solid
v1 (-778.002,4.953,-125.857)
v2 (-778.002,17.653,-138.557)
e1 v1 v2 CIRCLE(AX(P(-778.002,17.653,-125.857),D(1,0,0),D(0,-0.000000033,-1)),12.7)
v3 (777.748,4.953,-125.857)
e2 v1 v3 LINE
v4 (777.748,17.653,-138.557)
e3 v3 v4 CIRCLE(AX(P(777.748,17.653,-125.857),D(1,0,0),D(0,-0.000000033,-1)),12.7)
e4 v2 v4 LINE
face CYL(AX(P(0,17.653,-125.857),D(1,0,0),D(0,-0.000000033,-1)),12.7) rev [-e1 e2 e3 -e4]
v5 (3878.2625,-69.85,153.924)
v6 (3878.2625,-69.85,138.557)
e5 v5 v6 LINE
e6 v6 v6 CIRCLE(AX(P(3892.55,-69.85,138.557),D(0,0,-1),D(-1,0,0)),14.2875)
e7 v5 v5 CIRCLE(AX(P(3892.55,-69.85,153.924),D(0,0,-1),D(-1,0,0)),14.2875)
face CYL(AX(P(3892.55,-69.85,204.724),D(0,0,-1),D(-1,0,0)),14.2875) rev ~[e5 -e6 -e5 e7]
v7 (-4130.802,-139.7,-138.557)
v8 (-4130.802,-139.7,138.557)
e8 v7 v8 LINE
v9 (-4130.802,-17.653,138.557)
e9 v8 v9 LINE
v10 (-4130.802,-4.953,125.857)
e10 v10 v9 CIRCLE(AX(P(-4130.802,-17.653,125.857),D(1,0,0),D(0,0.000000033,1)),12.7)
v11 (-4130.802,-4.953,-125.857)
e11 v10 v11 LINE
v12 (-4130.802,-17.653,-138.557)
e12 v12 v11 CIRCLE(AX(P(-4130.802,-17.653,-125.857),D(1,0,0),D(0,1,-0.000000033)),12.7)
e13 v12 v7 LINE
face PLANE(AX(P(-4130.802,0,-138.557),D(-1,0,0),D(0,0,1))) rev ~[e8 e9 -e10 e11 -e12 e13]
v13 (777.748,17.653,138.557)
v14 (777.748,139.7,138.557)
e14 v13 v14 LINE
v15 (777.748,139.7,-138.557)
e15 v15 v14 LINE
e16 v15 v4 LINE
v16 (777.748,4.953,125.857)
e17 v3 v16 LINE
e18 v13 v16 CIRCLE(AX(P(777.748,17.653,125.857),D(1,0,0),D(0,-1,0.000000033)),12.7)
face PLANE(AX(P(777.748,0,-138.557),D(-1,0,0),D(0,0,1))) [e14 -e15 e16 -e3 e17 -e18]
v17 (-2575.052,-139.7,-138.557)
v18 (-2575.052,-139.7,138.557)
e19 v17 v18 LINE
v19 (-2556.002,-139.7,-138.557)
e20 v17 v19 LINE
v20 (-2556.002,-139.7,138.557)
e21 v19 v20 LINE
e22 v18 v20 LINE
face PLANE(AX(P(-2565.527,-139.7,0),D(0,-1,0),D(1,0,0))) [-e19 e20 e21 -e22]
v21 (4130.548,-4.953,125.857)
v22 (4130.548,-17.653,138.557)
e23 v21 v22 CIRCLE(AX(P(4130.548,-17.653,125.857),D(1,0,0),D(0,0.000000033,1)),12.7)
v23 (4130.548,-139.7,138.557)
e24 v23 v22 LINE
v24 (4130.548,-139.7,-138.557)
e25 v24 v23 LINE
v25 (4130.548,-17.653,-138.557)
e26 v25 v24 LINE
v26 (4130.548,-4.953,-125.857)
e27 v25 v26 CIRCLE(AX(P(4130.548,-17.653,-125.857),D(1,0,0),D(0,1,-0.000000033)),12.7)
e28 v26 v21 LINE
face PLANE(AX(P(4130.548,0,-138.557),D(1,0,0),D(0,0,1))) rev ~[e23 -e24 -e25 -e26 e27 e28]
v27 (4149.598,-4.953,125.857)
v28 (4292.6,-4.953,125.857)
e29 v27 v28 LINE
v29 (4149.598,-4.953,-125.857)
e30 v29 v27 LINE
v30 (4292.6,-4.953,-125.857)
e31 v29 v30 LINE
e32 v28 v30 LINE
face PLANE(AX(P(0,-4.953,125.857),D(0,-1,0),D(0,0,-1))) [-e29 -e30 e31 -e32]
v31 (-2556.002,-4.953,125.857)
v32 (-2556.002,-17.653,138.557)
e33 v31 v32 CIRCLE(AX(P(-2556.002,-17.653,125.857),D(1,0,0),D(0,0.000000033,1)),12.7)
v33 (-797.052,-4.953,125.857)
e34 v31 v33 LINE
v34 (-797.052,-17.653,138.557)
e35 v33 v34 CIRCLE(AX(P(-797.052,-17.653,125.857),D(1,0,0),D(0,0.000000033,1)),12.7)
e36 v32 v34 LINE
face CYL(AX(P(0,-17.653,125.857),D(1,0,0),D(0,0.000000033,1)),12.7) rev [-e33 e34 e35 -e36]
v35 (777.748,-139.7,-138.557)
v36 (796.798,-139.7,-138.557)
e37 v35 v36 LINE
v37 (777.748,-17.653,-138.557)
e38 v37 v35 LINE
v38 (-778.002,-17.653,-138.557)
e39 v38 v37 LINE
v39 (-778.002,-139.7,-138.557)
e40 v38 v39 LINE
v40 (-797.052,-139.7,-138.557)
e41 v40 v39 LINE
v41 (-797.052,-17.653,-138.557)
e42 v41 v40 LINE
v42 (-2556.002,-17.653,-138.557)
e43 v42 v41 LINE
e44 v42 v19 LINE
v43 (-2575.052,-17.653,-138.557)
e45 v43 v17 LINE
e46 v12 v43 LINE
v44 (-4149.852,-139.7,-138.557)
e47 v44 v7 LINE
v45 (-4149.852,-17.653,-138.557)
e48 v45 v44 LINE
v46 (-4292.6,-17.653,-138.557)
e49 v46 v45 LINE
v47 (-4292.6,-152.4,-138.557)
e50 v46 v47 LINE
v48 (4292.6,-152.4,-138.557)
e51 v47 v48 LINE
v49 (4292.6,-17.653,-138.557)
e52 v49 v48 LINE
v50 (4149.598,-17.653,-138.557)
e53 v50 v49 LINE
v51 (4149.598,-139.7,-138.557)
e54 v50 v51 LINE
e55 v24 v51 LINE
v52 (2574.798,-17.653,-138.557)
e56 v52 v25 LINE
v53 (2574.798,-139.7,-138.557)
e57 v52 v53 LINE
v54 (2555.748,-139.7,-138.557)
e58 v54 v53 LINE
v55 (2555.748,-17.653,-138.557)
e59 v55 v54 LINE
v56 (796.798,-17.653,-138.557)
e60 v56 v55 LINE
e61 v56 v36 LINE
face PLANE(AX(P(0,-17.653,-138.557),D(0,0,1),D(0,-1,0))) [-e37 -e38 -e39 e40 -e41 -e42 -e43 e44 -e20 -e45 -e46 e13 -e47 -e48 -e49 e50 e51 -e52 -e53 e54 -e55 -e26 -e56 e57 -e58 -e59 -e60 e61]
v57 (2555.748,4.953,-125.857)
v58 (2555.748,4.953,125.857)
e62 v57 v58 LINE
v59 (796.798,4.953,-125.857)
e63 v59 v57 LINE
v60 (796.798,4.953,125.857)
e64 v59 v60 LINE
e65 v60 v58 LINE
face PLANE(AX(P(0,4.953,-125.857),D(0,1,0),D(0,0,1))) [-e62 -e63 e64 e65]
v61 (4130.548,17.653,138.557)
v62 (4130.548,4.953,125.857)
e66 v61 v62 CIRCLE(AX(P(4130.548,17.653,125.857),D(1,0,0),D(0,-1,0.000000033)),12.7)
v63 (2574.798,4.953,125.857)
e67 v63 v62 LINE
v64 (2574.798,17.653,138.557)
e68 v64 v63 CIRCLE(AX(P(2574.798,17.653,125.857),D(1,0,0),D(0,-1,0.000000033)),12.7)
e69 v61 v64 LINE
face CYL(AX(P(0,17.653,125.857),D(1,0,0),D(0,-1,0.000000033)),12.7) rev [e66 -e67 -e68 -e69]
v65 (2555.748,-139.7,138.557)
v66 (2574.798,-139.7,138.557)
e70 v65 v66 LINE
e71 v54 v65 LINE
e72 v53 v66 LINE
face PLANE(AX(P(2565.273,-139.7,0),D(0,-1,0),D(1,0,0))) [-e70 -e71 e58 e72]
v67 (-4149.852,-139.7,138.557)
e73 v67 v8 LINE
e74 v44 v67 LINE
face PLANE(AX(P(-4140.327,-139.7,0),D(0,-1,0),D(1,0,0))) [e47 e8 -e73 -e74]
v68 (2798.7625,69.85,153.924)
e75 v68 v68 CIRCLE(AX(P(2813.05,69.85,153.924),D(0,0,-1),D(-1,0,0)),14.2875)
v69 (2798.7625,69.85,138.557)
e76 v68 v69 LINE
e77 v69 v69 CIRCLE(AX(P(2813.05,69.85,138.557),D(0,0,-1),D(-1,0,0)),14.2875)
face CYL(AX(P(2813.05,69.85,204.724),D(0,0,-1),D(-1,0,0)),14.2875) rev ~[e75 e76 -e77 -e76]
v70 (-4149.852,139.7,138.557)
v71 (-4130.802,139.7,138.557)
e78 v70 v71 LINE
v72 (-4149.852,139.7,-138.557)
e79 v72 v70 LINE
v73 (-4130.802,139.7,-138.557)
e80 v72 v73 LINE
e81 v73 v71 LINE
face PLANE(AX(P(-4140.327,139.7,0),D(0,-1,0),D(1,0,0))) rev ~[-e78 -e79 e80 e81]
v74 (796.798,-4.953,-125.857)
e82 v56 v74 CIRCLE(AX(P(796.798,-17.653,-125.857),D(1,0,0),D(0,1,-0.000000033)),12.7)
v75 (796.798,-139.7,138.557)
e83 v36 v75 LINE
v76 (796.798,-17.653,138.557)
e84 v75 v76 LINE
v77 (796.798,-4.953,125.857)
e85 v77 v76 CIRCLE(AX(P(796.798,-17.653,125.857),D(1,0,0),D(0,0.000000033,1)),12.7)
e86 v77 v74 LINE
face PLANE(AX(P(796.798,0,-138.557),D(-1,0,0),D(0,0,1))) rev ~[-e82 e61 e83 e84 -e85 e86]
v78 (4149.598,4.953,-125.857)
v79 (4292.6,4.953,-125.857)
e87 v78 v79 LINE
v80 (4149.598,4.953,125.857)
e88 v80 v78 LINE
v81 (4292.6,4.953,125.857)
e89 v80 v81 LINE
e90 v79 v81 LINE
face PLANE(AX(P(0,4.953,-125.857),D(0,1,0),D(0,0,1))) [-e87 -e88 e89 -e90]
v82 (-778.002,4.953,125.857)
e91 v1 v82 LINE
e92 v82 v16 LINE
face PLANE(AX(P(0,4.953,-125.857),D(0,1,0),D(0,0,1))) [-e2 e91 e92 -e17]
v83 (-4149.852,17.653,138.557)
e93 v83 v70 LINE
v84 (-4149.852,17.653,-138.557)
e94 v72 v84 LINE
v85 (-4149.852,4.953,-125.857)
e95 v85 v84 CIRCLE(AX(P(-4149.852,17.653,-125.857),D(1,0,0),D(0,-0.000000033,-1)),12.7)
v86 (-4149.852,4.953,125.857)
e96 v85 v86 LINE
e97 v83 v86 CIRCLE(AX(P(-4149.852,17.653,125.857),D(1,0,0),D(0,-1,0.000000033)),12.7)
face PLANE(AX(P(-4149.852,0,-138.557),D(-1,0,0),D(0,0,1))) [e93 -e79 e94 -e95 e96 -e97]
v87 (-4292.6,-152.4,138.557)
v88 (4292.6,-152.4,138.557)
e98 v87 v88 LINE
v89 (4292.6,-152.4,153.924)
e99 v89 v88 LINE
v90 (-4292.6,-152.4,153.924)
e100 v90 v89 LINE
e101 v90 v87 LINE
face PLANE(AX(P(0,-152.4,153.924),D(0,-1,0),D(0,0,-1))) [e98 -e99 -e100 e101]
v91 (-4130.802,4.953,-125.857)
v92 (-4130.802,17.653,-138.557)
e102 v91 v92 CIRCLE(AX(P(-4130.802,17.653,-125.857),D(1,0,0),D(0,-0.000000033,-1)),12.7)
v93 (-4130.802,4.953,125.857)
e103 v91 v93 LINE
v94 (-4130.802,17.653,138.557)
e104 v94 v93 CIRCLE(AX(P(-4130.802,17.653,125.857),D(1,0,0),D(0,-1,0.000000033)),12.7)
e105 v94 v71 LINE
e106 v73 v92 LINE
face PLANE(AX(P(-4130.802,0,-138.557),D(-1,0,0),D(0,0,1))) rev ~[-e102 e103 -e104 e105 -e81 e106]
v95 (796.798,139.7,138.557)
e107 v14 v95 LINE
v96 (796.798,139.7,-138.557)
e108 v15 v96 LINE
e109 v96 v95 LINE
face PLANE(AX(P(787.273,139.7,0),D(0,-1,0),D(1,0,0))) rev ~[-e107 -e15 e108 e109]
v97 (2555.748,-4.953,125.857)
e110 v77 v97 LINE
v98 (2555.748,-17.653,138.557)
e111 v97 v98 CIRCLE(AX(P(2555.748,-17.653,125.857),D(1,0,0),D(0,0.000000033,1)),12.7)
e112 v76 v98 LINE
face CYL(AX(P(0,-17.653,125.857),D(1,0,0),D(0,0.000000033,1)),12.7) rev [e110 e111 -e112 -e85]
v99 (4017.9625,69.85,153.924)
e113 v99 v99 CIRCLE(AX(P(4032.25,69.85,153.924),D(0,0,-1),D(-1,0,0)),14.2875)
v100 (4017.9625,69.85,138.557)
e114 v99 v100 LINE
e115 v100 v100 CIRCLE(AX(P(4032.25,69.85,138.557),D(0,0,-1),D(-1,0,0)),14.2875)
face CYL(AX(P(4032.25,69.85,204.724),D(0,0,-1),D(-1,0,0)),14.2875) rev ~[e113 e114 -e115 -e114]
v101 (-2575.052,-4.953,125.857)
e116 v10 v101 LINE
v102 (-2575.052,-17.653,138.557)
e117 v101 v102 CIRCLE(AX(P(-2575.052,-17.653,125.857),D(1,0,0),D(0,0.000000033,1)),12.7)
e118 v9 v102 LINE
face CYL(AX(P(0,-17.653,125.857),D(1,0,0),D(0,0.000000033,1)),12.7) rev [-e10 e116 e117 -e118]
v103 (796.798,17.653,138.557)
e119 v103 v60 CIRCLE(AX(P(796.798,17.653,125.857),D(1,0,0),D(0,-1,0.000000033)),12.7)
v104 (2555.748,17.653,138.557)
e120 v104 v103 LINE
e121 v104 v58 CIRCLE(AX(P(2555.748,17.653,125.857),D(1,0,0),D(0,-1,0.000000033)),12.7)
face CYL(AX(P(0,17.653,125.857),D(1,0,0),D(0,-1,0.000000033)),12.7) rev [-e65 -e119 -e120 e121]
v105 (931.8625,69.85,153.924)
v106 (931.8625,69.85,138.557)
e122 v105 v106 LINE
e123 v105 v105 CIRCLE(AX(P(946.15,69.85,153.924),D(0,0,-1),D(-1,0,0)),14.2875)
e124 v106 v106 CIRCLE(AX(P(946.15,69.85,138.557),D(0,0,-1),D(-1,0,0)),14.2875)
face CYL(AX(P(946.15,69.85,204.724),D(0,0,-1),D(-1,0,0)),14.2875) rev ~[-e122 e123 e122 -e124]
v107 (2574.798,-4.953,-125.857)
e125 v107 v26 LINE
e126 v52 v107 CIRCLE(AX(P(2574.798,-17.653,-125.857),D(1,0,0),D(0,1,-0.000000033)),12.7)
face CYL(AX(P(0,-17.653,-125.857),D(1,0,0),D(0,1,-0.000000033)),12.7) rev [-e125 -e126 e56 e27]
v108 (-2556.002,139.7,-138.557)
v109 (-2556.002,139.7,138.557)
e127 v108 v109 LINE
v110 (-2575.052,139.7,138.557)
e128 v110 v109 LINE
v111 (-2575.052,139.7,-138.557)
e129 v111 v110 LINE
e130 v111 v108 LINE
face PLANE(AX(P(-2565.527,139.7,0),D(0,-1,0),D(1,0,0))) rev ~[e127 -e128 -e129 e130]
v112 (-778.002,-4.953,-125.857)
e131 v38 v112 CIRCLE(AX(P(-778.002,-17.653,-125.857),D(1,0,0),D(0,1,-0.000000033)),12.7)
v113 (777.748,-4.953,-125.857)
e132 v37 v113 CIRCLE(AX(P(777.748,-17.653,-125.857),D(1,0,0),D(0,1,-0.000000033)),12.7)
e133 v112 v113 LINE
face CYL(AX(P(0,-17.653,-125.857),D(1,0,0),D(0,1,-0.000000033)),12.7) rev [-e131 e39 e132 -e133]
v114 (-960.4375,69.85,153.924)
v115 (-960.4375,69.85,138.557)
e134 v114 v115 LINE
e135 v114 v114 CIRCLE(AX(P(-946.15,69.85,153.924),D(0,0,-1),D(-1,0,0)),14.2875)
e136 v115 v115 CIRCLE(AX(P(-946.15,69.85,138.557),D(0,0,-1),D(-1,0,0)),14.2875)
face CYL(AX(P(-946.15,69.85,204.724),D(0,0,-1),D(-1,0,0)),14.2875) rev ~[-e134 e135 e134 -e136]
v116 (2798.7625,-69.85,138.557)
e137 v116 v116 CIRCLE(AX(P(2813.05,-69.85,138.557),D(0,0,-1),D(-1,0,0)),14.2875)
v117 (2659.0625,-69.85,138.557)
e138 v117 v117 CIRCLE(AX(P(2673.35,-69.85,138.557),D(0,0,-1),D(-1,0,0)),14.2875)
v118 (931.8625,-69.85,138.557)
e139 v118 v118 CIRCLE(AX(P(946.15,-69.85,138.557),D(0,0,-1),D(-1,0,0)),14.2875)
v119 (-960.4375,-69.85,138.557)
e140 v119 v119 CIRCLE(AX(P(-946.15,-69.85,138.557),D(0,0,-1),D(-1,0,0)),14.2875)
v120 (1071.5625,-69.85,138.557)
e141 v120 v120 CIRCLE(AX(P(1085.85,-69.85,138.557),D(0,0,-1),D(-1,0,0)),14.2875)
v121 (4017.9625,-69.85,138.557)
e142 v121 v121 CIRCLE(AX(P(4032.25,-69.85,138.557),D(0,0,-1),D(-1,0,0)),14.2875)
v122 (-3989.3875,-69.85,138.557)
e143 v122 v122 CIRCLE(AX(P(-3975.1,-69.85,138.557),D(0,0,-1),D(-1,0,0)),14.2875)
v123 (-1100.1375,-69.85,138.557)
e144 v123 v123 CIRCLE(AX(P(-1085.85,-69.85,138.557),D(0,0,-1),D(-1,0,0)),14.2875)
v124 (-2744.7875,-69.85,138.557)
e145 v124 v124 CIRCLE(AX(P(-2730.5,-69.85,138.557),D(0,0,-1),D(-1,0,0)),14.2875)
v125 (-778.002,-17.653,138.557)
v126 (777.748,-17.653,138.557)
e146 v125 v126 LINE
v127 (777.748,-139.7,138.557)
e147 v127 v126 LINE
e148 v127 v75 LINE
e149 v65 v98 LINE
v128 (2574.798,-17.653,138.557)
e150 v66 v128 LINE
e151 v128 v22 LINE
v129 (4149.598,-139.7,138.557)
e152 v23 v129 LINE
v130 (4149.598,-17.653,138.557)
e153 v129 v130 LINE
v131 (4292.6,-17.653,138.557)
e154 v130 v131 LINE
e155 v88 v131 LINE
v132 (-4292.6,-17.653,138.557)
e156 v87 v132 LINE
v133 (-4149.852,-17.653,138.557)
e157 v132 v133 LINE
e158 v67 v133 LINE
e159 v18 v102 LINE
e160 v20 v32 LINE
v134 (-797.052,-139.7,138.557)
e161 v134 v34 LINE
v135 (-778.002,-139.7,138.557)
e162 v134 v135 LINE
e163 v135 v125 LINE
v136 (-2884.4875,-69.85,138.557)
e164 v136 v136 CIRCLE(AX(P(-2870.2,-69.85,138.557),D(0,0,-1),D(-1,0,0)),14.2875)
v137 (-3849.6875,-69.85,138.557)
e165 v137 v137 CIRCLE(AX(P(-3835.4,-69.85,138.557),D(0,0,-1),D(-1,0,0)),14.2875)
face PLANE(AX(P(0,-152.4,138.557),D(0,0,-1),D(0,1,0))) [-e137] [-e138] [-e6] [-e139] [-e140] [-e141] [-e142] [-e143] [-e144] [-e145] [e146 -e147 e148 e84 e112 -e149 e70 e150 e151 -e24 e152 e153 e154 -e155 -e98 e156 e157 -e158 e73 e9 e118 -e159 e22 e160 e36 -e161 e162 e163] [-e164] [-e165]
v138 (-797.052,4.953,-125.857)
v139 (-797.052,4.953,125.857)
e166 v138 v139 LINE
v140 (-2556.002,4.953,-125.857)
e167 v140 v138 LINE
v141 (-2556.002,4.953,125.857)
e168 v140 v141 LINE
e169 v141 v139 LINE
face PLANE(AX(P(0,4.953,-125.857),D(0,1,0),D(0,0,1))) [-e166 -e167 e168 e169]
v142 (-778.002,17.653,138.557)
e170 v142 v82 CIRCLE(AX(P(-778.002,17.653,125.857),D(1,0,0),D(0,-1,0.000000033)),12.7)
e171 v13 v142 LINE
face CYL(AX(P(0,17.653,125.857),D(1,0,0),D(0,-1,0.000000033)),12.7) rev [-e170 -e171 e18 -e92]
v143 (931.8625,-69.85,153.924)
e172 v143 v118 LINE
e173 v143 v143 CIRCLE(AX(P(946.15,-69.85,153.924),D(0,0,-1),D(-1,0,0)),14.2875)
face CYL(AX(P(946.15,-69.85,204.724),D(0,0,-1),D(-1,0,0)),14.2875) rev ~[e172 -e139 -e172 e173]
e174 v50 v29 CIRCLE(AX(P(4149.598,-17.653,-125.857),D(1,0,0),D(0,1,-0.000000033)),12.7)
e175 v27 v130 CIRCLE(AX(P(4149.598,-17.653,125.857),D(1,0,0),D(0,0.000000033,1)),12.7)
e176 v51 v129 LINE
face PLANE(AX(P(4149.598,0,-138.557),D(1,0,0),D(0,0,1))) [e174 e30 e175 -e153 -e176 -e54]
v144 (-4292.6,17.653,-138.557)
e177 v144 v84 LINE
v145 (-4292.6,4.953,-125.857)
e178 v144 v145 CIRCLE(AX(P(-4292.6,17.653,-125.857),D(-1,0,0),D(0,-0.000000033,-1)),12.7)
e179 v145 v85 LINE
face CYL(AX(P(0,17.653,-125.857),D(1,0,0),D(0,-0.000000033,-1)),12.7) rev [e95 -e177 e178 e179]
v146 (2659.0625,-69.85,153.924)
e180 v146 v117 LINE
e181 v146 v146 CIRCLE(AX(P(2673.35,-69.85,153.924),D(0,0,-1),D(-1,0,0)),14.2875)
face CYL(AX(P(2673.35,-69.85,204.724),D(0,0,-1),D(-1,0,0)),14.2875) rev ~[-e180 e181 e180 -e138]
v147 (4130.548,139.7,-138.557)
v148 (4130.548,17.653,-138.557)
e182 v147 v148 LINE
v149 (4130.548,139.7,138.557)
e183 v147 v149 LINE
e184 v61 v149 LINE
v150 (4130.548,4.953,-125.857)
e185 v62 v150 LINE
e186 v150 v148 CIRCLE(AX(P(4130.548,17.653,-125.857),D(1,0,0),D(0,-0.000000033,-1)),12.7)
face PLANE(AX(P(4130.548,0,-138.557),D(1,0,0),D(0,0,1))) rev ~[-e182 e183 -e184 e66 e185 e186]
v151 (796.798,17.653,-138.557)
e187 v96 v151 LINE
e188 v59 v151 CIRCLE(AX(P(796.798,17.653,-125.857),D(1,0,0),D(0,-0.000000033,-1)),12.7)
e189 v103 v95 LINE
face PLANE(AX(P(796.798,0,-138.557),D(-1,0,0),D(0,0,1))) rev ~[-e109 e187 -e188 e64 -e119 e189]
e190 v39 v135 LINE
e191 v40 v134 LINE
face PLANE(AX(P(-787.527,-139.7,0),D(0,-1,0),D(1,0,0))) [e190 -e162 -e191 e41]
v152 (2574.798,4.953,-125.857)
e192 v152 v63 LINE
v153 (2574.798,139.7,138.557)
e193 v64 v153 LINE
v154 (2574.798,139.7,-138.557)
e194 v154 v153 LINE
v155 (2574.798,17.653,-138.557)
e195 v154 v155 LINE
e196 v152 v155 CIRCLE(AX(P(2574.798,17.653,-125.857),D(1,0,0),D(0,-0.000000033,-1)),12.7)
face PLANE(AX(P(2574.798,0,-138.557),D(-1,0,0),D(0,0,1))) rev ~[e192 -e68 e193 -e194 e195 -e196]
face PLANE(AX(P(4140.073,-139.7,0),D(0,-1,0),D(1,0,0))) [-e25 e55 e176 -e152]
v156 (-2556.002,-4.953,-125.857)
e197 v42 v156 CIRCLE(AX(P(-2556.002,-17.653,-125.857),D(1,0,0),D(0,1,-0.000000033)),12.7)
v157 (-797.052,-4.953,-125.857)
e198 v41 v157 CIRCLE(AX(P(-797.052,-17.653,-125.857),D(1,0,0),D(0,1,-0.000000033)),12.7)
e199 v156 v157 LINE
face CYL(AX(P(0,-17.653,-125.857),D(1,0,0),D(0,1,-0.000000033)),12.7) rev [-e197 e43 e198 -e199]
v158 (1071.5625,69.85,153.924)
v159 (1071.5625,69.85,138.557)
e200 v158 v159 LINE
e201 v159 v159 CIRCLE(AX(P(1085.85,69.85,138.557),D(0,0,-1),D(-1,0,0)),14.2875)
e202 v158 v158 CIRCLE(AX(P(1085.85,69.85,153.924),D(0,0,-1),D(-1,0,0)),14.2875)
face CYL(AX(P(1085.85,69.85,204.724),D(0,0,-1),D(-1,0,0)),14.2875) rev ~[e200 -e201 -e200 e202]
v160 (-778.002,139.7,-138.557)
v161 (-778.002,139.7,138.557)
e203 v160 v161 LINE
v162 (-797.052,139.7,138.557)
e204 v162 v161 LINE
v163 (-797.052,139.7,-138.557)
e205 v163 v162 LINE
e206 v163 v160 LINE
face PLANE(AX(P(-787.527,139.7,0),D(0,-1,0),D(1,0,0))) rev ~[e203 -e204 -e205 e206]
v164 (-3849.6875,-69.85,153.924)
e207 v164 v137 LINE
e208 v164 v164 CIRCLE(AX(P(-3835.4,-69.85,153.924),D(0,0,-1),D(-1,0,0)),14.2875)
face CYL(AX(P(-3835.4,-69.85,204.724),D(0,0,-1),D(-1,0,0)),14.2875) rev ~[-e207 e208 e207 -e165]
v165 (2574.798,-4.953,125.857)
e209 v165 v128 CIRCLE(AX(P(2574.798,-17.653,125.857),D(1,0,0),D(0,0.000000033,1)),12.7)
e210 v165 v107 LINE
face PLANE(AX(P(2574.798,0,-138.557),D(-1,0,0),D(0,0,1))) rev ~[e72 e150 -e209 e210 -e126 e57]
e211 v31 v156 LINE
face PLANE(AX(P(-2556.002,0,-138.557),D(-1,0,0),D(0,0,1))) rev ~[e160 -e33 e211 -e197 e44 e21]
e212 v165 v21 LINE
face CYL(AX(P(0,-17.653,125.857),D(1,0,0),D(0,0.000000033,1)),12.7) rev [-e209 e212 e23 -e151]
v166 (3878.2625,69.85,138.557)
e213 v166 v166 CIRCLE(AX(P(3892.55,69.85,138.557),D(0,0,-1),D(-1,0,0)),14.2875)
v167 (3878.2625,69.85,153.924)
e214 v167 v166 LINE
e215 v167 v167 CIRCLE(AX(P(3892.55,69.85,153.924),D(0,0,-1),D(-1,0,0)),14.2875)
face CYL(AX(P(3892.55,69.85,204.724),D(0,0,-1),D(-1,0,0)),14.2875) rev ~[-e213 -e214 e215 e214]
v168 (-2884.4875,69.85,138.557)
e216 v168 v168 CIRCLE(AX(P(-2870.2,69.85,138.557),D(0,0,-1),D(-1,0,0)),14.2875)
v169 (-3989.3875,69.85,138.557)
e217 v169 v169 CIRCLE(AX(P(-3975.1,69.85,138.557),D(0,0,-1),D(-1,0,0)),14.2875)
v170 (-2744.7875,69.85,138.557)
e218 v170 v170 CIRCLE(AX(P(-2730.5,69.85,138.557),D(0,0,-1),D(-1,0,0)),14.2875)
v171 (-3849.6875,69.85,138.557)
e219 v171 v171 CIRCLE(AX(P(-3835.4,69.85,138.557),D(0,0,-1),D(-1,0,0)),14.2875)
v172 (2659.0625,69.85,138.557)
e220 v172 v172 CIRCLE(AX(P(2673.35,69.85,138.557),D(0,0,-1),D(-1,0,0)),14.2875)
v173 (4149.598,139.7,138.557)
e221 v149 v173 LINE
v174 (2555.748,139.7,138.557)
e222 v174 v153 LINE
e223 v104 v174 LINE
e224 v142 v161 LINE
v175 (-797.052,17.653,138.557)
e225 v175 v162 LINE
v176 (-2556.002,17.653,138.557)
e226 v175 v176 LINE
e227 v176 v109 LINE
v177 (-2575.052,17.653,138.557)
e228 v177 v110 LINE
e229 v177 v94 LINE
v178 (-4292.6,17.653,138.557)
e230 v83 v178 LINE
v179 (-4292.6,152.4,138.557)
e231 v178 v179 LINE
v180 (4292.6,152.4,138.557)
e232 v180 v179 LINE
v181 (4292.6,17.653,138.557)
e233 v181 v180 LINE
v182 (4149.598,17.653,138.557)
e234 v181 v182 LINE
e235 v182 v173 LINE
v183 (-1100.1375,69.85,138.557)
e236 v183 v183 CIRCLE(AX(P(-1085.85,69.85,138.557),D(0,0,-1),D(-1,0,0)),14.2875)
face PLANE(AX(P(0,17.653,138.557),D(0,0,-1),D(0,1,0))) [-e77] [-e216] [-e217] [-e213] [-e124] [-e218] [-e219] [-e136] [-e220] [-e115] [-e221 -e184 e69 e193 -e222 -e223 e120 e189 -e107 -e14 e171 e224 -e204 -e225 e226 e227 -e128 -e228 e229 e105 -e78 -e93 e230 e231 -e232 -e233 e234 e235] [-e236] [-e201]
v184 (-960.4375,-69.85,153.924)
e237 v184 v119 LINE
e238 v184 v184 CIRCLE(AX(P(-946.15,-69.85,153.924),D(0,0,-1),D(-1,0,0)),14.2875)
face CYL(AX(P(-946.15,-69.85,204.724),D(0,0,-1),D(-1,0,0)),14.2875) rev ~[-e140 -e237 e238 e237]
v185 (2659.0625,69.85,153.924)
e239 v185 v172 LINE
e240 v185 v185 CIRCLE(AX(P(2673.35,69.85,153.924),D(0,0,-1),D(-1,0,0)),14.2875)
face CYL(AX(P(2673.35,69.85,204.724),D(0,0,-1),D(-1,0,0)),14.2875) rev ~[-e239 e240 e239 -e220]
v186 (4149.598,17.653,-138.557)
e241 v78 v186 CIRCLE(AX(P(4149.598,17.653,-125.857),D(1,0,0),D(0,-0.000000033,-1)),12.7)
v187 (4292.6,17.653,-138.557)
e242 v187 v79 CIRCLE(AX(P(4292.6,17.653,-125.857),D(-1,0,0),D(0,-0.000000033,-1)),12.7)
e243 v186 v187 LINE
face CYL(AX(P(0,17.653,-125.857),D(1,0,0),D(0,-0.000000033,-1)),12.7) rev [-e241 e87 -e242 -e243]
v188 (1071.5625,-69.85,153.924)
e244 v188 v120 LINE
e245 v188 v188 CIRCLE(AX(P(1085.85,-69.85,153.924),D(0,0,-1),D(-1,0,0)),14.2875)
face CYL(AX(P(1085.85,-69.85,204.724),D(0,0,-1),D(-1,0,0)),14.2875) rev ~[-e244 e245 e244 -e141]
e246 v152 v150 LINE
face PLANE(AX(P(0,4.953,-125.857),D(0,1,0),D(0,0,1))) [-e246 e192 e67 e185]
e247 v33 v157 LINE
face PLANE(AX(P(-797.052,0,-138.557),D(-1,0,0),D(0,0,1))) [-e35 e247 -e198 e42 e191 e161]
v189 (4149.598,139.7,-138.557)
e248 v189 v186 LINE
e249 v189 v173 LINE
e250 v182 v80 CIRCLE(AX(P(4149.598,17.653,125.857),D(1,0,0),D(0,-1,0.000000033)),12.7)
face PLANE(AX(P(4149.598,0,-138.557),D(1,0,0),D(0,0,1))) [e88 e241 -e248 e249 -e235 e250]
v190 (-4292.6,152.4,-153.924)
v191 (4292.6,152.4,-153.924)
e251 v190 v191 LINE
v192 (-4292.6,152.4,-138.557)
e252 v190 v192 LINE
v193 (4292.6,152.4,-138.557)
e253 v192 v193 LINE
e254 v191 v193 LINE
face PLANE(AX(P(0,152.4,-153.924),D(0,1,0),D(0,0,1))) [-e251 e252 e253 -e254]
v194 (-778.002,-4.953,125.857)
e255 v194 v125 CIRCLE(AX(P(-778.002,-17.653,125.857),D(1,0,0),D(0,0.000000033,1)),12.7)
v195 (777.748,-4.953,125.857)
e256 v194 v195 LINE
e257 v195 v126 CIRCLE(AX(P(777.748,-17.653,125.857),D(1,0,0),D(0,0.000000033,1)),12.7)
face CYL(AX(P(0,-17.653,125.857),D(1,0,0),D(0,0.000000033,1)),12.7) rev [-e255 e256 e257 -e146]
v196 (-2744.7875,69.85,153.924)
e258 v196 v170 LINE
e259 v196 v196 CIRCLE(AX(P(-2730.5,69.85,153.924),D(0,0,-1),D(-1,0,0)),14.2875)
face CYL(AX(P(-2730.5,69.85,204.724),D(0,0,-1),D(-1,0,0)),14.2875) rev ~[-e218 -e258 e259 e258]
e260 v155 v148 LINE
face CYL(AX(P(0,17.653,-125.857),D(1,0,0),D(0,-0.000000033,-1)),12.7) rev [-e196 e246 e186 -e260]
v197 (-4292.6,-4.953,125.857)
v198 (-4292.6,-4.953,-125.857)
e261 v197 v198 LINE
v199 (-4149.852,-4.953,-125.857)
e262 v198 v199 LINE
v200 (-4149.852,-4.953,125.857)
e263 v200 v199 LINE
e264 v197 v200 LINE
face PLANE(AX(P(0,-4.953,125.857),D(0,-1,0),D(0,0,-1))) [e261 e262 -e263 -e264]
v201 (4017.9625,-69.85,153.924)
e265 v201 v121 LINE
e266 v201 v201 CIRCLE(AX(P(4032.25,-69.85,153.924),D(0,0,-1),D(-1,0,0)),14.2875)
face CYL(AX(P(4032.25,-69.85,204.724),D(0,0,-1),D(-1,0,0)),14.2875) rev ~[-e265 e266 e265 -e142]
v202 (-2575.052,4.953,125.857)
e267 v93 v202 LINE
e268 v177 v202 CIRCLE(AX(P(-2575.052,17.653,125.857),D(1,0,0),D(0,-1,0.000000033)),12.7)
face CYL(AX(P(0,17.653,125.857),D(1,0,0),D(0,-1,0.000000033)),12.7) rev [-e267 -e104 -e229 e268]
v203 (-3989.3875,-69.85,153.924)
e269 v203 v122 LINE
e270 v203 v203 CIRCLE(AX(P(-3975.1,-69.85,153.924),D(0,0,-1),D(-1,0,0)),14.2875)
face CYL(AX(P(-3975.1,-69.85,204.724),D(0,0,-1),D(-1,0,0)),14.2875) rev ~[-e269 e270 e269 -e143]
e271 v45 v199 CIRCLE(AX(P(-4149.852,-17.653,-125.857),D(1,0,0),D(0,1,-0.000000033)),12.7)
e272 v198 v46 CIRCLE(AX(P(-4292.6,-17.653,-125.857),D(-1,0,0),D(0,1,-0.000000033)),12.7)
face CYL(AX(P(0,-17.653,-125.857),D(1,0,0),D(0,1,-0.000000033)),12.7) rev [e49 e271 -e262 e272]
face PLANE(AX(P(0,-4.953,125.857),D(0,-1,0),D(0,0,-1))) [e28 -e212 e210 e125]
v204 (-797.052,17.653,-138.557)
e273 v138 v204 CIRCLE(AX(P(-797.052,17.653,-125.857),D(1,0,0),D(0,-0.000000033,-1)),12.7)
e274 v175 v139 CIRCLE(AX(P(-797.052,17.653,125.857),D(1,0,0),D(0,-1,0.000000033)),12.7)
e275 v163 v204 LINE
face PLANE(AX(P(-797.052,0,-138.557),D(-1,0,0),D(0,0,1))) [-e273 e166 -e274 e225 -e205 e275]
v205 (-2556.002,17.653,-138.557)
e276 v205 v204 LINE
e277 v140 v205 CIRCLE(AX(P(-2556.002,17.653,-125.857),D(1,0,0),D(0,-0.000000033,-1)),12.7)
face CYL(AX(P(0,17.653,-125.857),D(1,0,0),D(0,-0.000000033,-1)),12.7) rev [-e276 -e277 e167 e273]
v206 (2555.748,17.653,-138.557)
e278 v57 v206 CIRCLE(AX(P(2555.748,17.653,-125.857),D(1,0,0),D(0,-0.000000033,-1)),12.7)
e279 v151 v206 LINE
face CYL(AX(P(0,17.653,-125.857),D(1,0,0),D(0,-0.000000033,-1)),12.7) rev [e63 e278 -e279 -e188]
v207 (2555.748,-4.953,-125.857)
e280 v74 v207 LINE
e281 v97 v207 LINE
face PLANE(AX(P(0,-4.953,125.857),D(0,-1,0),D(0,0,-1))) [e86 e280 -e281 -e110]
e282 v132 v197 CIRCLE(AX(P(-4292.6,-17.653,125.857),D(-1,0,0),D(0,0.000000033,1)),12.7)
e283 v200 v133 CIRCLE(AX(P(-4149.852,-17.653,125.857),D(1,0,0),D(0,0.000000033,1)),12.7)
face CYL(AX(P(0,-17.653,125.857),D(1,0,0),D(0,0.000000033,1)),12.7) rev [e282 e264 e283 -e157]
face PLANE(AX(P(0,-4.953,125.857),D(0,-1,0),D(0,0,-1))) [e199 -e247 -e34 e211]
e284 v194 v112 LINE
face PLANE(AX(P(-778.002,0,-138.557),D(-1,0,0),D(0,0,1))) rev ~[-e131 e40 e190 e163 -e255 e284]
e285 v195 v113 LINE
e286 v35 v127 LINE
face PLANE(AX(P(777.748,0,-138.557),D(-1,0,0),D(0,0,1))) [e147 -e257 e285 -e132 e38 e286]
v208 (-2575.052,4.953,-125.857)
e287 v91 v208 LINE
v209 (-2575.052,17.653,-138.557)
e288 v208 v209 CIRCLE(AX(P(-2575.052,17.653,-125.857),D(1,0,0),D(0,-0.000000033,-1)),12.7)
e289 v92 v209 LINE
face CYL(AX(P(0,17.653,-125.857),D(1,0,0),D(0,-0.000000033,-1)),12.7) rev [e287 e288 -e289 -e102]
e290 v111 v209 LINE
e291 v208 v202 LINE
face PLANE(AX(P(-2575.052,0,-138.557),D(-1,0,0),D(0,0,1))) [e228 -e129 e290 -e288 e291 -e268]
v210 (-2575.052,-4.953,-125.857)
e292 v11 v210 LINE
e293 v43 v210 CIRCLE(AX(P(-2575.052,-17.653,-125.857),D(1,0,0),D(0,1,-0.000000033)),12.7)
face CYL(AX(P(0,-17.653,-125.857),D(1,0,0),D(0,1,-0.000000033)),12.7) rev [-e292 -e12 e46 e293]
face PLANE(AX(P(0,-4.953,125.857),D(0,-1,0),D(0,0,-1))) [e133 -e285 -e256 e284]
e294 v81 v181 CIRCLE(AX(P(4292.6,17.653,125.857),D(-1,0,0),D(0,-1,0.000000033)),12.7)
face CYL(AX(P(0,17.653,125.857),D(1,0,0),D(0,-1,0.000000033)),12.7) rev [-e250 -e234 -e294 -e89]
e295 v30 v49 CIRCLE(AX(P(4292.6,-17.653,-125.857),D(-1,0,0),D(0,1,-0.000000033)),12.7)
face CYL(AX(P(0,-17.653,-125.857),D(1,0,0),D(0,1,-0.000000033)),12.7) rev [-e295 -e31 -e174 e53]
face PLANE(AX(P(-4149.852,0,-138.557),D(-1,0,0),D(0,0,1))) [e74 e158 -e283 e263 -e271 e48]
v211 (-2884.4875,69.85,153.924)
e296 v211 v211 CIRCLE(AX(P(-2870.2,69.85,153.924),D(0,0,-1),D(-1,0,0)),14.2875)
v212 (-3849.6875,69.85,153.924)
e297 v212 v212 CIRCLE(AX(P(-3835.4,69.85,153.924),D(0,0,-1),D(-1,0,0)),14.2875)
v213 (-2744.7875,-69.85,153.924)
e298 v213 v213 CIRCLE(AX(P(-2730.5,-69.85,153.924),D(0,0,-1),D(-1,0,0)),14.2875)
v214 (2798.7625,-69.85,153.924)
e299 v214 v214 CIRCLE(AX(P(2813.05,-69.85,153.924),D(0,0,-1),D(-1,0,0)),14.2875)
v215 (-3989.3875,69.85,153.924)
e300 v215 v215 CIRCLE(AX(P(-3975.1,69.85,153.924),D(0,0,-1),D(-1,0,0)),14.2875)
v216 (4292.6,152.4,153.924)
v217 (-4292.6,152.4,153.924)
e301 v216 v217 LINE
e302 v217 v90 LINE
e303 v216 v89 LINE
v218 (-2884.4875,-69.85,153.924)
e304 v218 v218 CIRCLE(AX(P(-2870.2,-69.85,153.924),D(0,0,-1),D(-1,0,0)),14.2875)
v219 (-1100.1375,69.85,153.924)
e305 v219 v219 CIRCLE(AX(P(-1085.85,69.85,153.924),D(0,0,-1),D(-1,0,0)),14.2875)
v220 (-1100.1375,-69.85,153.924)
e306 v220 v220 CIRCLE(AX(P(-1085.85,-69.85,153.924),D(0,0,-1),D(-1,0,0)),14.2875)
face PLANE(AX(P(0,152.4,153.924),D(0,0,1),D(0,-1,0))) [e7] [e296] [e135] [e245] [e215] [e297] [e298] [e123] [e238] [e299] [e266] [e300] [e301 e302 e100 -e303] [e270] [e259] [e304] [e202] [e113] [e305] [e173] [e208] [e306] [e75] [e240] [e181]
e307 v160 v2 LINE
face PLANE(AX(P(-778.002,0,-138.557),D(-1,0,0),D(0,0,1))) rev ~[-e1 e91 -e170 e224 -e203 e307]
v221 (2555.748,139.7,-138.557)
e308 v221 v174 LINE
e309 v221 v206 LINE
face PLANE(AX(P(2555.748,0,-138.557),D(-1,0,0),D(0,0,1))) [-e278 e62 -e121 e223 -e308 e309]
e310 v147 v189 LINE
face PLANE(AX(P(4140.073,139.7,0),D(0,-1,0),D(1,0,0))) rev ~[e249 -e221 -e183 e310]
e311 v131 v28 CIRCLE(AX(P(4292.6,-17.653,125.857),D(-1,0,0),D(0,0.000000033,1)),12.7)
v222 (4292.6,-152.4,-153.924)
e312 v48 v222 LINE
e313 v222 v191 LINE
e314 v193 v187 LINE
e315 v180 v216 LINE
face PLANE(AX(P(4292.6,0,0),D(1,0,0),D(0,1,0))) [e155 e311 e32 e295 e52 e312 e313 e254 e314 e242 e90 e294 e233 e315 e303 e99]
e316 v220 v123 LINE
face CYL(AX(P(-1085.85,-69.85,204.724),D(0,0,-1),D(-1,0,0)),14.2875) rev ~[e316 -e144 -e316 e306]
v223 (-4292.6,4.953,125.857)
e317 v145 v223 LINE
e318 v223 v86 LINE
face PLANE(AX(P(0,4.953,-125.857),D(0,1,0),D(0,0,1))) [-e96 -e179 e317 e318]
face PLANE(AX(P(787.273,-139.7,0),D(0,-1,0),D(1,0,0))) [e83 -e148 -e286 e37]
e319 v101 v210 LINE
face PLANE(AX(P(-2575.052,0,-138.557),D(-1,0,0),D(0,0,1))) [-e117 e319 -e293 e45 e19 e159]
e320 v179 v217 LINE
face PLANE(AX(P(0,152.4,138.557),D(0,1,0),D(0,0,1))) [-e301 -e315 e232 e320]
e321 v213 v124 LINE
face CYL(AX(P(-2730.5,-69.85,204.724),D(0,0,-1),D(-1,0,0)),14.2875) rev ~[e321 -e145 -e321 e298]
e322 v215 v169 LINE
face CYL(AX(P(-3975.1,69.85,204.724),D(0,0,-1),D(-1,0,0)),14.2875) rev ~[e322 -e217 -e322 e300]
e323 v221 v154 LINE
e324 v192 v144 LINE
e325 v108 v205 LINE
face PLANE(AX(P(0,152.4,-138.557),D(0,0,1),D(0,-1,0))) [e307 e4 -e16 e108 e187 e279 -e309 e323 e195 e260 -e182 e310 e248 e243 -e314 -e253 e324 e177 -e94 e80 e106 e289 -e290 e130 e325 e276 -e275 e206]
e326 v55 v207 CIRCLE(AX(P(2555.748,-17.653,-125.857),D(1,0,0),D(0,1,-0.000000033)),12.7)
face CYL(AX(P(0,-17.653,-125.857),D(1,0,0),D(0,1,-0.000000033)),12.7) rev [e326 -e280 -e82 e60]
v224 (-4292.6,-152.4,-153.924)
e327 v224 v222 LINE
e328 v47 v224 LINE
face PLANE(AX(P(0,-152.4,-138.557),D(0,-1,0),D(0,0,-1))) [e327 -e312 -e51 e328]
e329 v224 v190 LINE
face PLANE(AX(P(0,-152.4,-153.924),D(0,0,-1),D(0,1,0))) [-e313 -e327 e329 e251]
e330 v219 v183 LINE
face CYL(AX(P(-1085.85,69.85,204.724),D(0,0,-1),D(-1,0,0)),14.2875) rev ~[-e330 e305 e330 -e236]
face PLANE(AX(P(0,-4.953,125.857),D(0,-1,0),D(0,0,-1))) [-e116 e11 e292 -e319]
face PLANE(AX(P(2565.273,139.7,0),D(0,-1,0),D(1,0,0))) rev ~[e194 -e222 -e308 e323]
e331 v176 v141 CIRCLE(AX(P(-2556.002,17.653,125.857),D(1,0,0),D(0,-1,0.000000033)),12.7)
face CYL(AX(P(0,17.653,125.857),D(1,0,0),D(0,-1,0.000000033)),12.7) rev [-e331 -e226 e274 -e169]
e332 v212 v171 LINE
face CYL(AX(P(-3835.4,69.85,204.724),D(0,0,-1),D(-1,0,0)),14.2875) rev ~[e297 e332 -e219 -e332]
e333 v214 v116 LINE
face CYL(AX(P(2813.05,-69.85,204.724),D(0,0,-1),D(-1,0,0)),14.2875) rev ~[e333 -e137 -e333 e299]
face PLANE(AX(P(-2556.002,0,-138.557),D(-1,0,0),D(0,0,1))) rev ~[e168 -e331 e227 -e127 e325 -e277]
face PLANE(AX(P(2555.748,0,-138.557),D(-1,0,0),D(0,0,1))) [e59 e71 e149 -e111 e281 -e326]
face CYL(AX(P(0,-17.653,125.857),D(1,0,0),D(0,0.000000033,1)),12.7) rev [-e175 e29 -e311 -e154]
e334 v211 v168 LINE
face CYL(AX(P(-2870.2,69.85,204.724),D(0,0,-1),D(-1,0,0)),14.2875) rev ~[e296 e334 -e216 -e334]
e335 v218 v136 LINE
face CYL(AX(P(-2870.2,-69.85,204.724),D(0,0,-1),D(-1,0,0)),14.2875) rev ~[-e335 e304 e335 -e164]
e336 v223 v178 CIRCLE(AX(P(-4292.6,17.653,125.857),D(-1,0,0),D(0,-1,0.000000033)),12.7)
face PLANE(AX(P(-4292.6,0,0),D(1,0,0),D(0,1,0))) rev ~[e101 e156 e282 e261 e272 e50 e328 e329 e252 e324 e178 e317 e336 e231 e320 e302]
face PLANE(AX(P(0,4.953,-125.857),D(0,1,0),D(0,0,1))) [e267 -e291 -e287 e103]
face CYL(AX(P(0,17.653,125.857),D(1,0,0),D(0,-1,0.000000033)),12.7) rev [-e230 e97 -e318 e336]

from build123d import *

# Parameters (mm, degrees)
F1_DEPTH = 4292.6
F2_W     = 19.05
F2_H     = 277.114
F3_DEPTH = 139.7
F5_D     = 28.575
F5_DEPTH = 50.8


with BuildPart() as f1:
    # F0 (on Right) → F1 (new body, symmetric)
    with BuildSketch(Plane.YZ):
        with BuildLine():
            Line((152.4, 153.924), (-152.4, 153.924))
            Line((-152.4, 153.924), (-152.4, 138.557))
            Line((-152.4, 138.557), (-17.653, 138.557))
            ThreePointArc((-17.653, 138.557), (-8.672744, 134.837256), (-4.953, 125.857))
            Line((-4.953, 125.857), (-4.953, -125.857))
            ThreePointArc((-4.953, -125.857), (-8.672744, -134.837256), (-17.653, -138.557))
            Line((-17.653, -138.557), (-152.4, -138.557))
            Line((-152.4, -138.557), (-152.4, -153.924))
            Line((-152.4, -153.924), (-4.953, -153.924))
            Line((-4.953, -153.924), (4.953, -153.924))
            Line((4.953, -153.924), (152.4, -153.924))
            Line((152.4, -153.924), (152.4, -138.557))
            Line((152.4, -138.557), (17.653, -138.557))
            ThreePointArc((17.653, -138.557), (8.672744, -134.837256), (4.953, -125.857))
            Line((4.953, -125.857), (4.953, 125.857))
            ThreePointArc((4.953, 125.857), (8.672744, 134.837256), (17.653, 138.557))
            Line((17.653, 138.557), (152.4, 138.557))
            Line((152.4, 138.557), (152.4, 153.924))
        make_face()
    extrude(amount=F1_DEPTH, both=True)

    # F2 (on Front) → F3 (join, symmetric)
    with BuildSketch(Plane.XZ):
        with Locations((-4140.327, 0)):
            Rectangle(F2_W, F2_H)
        with Locations((-2565.527, 0)):
            Rectangle(F2_W, F2_H)
        with Locations((-787.527, 0)):
            Rectangle(F2_W, F2_H)
        with Locations((787.273, 0)):
            Rectangle(F2_W, F2_H)
        with Locations((2565.273, 0)):
            Rectangle(F2_W, F2_H)
        with Locations((4140.073, 0)):
            Rectangle(F2_W, F2_H)
    extrude(amount=F3_DEPTH, both=True)

    # F5
    with Locations(Plane.XY.offset(153.924)):
        with Locations((-3975.1, 69.85), (-3835.4, 69.85), (-3835.4, -69.85), (-3975.1, -69.85), (-2870.2, 69.85), (-2730.5, 69.85), (-2870.2, -69.85), (-2730.5, -69.85), (-1085.85, 69.85), (-946.15, 69.85), (-1085.85, -69.85), (-946.15, -69.85), (946.15, 69.85), (1085.85, 69.85), (946.15, -69.85), (1085.85, -69.85), (2673.35, 69.85), (2813.05, 69.85), (2673.35, -69.85), (2813.05, -69.85), (3892.55, 69.85), (4032.25, 69.85), (3892.55, -69.85), (4032.25, -69.85), (4032.25, 69.85)):
            Hole(F5_D / 2, depth=F5_DEPTH)


solid = f1.part
